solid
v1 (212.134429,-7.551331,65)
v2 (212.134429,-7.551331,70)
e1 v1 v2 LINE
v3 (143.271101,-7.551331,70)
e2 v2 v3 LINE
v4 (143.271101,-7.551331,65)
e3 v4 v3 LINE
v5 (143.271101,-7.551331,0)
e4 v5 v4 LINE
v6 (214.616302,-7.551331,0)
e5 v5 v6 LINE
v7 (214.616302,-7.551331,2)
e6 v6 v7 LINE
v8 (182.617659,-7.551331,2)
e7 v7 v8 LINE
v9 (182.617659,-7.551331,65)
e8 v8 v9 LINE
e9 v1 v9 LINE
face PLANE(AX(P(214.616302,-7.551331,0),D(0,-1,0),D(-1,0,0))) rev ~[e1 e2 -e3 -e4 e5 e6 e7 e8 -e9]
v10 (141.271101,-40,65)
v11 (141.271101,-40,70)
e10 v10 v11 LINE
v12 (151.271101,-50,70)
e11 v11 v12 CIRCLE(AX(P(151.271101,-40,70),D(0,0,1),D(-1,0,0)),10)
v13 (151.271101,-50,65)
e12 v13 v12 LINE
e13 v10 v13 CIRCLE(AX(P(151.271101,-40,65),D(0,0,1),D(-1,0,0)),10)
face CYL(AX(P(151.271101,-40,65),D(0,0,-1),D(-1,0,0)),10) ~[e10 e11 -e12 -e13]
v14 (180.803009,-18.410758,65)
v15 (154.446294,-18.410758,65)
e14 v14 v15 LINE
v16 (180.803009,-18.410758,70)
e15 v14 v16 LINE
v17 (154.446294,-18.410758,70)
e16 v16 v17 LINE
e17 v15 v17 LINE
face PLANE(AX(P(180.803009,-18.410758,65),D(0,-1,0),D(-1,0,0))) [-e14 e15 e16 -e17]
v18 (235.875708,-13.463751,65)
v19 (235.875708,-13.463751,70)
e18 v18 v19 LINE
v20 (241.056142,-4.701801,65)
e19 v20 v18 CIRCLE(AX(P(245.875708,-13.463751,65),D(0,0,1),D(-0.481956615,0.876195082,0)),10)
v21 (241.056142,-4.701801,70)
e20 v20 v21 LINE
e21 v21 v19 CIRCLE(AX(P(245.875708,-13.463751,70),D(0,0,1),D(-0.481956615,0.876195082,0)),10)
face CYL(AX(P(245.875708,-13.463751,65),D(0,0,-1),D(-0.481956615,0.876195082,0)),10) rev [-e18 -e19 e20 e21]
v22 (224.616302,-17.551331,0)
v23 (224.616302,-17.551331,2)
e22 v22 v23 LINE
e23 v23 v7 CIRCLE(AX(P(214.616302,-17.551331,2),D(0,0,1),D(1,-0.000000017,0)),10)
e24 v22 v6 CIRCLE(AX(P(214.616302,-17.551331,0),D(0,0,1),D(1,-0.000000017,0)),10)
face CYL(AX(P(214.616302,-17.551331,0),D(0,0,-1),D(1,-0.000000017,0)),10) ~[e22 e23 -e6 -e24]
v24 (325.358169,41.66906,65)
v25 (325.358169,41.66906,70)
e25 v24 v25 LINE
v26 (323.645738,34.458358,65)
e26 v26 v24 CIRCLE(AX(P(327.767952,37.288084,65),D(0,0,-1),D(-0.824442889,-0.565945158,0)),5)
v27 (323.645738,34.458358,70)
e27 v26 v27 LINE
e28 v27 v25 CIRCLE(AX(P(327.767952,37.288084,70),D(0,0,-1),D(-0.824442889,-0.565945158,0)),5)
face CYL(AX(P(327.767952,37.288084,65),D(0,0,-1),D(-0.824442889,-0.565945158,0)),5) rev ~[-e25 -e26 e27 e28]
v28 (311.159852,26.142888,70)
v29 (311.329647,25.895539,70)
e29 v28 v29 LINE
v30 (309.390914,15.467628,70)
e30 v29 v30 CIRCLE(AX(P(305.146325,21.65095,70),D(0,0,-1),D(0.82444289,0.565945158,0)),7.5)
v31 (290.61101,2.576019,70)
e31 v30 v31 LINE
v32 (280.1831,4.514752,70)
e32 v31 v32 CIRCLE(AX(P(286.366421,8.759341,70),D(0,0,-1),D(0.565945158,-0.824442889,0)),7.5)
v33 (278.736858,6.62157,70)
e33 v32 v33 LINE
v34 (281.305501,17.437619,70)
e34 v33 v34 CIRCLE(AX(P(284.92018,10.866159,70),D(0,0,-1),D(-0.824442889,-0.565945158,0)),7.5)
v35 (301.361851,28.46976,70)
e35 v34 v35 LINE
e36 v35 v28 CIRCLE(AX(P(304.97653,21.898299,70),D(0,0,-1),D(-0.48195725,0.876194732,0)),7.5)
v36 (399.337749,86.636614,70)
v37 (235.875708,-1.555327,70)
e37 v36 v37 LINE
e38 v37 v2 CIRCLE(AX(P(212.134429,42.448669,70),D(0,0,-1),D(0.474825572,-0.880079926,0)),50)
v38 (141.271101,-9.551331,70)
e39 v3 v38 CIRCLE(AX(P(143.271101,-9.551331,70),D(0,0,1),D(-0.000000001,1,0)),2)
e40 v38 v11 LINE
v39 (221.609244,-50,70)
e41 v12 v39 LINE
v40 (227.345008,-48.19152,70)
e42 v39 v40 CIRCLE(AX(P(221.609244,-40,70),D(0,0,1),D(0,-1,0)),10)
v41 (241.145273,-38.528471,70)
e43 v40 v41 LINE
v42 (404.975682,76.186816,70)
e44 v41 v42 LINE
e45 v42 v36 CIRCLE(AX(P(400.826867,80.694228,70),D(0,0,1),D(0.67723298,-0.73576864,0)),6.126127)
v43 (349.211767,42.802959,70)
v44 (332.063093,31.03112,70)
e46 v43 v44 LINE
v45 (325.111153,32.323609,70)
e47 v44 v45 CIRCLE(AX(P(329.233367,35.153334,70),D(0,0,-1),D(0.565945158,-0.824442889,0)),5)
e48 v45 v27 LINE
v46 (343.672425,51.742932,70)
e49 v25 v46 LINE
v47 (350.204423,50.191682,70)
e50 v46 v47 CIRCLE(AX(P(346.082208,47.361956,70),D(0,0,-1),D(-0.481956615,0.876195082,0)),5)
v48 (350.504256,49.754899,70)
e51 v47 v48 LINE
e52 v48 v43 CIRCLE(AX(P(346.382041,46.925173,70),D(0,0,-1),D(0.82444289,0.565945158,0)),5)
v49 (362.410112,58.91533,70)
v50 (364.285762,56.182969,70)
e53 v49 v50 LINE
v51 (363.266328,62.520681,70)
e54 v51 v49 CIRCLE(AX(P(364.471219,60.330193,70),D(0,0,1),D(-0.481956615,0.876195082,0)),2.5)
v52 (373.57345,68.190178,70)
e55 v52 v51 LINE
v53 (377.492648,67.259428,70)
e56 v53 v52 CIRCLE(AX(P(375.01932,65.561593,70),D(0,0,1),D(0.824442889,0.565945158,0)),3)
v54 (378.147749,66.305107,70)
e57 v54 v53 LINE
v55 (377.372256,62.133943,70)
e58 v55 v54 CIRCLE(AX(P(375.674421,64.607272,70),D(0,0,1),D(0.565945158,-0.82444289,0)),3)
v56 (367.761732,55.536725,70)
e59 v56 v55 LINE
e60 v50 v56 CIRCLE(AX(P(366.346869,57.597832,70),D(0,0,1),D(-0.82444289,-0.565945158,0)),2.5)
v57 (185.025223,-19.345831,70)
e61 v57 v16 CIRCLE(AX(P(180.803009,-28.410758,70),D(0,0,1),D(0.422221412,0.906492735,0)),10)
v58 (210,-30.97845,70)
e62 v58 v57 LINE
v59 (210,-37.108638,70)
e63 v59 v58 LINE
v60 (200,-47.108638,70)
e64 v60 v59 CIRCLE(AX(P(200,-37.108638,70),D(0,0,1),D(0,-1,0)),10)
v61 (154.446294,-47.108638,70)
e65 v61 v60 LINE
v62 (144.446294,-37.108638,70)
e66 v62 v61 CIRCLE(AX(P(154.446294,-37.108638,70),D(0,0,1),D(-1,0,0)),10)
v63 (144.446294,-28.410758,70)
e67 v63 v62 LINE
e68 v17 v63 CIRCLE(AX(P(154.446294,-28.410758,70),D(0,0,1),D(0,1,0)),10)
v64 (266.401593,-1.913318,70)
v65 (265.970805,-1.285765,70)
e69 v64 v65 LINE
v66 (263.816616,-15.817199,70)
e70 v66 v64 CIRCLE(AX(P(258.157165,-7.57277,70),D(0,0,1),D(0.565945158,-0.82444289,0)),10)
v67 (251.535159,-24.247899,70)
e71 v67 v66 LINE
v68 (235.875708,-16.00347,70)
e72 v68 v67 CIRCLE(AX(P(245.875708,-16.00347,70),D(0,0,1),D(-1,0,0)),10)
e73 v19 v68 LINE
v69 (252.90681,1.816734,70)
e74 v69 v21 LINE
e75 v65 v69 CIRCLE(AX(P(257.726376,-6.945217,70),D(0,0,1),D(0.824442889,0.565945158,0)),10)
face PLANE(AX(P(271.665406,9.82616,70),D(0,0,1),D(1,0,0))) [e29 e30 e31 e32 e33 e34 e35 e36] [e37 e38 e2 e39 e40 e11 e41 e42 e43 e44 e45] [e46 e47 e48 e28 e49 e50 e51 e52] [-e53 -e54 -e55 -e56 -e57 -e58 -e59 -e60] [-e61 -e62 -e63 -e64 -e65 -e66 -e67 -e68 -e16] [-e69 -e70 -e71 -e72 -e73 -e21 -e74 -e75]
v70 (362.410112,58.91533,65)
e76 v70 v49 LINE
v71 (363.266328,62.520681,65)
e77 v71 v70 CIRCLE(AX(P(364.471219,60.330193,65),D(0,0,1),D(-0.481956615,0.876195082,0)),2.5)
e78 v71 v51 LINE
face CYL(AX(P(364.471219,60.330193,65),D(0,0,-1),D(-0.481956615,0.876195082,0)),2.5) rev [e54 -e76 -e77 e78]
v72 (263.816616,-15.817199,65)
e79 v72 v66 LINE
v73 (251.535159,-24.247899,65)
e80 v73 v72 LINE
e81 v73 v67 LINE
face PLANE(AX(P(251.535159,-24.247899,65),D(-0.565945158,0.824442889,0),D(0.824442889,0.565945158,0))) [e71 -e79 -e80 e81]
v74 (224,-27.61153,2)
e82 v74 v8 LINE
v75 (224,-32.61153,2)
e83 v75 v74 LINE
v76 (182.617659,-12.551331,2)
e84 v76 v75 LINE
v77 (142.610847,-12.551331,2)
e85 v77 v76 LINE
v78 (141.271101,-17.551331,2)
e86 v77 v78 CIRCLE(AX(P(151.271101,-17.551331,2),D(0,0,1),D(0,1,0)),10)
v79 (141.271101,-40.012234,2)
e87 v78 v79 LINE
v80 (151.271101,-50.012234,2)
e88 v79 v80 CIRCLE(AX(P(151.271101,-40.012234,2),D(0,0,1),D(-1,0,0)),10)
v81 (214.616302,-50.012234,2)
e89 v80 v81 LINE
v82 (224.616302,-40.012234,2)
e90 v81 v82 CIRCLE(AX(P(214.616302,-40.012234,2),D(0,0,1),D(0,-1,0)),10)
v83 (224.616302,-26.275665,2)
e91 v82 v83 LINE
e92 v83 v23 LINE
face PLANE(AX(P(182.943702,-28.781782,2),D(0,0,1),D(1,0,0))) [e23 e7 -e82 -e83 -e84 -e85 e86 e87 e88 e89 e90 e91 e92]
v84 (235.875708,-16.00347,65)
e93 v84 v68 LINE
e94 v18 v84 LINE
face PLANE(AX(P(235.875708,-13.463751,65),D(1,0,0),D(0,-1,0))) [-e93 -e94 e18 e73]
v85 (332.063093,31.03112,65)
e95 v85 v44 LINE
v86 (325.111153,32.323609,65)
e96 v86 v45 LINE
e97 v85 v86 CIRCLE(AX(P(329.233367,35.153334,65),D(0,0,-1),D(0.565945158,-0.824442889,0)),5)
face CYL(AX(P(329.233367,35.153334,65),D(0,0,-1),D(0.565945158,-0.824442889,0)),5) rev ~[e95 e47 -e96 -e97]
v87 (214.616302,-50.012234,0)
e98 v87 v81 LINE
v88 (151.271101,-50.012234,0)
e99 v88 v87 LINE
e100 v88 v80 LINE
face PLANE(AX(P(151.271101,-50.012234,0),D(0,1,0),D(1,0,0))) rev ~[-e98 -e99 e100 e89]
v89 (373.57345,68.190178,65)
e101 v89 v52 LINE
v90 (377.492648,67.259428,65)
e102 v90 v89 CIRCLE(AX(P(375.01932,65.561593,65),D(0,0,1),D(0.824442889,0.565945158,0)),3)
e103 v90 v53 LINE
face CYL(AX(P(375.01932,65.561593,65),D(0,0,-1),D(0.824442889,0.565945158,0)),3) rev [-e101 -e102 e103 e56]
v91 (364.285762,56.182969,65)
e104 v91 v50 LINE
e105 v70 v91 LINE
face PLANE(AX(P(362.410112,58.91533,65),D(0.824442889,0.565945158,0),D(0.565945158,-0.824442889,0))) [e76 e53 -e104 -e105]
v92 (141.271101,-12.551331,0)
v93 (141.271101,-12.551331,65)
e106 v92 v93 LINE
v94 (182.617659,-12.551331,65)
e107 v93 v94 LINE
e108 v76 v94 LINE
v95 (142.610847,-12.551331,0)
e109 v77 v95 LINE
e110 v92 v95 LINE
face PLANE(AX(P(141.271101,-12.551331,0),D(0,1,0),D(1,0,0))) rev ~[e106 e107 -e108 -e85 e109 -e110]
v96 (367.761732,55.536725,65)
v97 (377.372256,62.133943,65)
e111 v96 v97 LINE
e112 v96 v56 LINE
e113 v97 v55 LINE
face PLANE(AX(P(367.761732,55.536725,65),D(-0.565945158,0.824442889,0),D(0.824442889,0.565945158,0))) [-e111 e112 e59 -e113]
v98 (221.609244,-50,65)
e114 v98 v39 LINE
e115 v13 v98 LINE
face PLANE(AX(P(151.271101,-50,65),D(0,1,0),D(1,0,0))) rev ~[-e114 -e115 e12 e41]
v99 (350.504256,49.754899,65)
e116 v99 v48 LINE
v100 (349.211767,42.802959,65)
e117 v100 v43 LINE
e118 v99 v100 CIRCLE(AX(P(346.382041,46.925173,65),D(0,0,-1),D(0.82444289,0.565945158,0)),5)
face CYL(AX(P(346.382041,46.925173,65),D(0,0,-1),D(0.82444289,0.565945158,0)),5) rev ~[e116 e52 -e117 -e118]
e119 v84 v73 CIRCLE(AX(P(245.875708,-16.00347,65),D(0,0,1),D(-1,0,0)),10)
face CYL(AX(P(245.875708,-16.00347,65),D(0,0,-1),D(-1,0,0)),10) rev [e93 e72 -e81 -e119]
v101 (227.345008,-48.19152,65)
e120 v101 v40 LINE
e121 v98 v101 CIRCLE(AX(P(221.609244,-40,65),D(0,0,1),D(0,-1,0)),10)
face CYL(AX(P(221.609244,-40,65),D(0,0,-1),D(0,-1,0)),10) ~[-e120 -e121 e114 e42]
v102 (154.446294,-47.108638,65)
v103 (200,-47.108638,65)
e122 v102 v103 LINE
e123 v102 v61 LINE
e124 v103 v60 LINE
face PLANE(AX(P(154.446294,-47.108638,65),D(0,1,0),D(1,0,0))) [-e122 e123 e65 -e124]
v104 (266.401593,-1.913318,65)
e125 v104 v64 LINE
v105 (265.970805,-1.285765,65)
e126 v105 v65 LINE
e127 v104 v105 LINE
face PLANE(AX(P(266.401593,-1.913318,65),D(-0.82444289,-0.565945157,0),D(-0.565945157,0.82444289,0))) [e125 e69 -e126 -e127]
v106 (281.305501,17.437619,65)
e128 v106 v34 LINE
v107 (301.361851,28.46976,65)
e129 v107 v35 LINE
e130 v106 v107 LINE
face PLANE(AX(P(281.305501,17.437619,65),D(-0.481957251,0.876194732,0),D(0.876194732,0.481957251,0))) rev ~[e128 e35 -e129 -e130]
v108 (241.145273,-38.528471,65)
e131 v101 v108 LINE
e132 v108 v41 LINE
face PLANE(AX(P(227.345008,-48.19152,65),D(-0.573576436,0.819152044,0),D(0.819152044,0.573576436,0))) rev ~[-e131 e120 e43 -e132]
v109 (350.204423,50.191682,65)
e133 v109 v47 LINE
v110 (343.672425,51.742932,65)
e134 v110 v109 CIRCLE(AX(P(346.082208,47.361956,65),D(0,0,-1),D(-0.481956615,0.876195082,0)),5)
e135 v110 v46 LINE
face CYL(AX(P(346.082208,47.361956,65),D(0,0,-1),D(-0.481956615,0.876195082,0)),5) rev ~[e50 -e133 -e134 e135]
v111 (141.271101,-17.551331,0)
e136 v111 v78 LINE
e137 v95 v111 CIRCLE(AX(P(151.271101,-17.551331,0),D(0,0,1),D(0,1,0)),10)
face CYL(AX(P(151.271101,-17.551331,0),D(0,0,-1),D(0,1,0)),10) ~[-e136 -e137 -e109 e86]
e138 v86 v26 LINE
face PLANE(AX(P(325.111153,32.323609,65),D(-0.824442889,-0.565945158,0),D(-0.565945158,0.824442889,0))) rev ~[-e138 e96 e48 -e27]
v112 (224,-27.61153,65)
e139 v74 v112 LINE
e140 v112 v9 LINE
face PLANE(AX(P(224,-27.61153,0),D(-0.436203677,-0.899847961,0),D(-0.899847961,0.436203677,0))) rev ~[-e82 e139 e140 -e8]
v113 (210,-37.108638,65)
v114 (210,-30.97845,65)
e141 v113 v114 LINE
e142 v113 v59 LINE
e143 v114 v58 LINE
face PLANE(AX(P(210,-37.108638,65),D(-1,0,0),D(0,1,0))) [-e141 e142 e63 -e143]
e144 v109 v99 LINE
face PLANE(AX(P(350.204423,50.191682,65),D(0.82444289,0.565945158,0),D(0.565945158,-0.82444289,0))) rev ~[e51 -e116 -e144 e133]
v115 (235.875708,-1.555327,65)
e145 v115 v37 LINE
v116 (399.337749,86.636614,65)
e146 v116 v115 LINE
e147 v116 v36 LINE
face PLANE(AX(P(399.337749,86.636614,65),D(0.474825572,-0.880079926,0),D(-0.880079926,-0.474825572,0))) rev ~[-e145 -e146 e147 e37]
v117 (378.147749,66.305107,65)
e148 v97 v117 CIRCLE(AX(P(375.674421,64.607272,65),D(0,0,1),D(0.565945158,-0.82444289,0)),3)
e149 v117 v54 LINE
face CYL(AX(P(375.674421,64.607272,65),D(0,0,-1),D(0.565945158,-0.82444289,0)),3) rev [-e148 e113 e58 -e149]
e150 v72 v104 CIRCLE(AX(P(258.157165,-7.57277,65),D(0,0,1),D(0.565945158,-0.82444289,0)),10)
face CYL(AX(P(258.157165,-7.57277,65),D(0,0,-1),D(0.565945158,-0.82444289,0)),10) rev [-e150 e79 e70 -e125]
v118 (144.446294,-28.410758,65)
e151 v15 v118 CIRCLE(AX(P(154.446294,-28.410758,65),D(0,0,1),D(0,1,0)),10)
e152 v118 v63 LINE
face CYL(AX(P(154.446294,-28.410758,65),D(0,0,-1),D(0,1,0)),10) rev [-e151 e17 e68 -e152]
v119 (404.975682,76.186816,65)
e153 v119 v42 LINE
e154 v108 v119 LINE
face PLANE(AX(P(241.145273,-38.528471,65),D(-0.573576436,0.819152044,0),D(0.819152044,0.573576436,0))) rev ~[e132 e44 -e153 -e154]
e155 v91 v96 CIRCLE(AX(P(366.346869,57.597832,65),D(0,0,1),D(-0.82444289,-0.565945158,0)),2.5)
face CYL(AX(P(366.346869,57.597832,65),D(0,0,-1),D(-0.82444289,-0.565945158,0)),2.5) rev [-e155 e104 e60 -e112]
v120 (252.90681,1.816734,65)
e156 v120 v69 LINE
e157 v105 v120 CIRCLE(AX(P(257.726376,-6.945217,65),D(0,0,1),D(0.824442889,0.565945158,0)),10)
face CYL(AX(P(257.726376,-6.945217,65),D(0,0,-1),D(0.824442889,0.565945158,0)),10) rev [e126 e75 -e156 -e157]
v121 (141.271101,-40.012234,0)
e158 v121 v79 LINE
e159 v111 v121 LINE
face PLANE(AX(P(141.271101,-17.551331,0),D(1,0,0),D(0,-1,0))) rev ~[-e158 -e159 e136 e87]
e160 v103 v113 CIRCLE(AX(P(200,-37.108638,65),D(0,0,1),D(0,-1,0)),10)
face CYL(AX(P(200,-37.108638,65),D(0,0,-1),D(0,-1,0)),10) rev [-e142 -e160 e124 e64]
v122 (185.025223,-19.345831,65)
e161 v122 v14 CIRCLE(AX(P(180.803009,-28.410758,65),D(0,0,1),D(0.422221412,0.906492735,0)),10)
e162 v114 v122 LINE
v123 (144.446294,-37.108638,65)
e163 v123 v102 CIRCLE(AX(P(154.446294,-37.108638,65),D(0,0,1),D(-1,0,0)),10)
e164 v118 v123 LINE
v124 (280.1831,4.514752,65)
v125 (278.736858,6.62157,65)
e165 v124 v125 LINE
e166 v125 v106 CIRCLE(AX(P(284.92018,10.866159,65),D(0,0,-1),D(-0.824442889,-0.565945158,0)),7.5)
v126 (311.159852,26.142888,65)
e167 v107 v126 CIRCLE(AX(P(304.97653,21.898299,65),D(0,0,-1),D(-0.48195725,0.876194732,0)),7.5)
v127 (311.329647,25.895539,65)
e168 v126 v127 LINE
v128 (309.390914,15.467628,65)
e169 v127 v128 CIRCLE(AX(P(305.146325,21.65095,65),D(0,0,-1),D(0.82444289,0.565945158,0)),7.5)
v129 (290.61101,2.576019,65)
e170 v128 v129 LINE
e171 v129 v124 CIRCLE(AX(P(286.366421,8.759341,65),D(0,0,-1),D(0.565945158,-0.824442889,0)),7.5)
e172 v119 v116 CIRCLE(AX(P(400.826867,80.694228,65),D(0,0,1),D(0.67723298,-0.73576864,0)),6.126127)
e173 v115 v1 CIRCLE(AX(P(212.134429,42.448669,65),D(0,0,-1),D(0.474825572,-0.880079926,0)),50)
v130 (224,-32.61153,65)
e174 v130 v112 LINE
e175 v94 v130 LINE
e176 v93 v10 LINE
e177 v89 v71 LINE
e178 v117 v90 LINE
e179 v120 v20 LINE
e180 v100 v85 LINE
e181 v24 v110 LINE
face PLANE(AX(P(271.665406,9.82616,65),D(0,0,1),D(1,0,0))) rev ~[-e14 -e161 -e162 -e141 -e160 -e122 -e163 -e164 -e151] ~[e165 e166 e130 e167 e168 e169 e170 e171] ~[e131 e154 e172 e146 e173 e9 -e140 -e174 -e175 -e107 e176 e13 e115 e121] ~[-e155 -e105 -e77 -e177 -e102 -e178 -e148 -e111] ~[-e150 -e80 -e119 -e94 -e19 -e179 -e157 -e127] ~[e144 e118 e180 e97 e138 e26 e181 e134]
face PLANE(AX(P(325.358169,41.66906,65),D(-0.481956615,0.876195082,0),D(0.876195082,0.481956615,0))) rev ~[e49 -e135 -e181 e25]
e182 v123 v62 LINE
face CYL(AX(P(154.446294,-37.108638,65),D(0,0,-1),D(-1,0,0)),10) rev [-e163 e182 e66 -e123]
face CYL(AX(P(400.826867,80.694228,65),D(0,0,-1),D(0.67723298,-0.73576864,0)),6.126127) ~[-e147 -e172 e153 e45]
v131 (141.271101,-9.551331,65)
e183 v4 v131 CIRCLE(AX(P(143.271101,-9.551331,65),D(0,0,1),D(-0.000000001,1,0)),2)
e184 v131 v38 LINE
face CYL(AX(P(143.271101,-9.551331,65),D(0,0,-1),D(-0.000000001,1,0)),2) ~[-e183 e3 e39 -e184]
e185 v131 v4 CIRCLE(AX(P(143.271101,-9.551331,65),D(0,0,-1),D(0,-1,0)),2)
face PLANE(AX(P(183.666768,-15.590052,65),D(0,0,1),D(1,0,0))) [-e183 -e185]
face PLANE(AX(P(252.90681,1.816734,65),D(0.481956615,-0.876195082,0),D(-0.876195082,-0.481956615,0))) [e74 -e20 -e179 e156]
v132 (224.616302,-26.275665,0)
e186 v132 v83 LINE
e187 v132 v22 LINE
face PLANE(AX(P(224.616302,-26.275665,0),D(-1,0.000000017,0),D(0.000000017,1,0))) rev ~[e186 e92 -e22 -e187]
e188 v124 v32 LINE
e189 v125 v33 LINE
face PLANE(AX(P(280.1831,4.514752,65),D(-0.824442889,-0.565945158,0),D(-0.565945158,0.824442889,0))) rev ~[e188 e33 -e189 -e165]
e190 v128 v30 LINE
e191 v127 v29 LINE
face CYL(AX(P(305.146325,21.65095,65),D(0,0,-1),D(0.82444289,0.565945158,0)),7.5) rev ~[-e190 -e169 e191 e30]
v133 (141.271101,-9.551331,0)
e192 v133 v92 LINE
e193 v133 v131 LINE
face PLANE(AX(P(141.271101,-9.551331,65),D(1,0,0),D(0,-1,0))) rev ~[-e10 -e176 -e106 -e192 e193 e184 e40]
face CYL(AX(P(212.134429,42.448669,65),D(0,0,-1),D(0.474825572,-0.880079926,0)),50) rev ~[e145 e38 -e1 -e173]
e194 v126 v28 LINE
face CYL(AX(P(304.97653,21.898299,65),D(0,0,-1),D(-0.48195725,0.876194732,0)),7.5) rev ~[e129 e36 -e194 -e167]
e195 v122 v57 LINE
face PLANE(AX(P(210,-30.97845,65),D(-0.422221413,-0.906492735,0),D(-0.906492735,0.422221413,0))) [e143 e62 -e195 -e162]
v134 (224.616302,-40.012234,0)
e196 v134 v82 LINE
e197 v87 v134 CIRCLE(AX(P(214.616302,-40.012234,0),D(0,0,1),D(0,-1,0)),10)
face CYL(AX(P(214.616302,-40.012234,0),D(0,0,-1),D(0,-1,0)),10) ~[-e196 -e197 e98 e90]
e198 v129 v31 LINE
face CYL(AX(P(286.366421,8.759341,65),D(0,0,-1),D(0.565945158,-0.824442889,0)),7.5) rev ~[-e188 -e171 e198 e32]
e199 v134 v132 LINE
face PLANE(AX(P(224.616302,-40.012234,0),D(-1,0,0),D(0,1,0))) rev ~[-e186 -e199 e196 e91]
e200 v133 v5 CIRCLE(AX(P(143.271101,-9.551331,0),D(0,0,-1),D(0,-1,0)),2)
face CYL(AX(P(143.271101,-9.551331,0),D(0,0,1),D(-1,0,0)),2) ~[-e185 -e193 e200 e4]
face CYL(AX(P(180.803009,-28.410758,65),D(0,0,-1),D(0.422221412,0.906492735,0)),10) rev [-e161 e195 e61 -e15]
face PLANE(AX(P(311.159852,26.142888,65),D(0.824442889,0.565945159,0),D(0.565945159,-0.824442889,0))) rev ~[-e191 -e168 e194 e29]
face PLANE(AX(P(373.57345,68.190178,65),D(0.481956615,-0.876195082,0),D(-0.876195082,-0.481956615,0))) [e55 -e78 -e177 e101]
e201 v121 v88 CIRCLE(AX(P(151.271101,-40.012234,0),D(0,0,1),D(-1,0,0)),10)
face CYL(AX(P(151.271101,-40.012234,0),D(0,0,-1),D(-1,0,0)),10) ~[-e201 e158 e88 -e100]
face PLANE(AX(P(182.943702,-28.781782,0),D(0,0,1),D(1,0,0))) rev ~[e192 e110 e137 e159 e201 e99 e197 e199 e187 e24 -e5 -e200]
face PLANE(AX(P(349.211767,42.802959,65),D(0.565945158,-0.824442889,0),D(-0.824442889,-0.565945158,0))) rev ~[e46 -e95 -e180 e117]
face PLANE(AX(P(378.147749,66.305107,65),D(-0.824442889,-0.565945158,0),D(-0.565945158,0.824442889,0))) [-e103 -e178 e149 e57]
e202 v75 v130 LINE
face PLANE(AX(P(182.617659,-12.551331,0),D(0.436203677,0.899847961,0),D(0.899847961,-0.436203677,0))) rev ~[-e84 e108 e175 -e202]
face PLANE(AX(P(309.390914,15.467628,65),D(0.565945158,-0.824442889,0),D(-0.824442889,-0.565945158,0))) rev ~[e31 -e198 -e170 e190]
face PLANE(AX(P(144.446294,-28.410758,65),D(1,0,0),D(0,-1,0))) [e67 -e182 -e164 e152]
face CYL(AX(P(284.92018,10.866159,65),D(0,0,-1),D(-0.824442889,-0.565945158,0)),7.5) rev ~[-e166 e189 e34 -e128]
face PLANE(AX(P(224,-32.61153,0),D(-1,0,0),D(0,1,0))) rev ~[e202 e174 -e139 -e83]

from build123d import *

# Parameters (mm, degrees)
BOSS_EXTRUDE1_DEPTH = 65
BOSS_EXTRUDE2_DEPTH = 5
FILLET1_R           = 2
BOSS_EXTRUDE3_DEPTH = 2


with BuildPart() as part:
    # Sketch1 → Boss-Extrude1 (new body)
    with BuildSketch(Plane.XY):
        Polygon((141.271101362, -12.551330892), (182.617659362, -12.551330892), (224, -32.611529859), (224, -27.611529859), (182.617659362, -7.551330892), (141.271101362, -7.551330892), align=None)
    extrude(amount=BOSS_EXTRUDE1_DEPTH)

    # Sketch2 → Boss-Extrude2 (add)
    with BuildSketch(Plane.XY.offset(65)):
        with BuildLine():
            Line((141.271101362, -17.551330892), (141.271101362, -40))
            ThreePointArc((141.271101362, -40), (144.20003355, -47.071067812), (151.271101362, -50))
            Line((151.271101362, -50), (221.609244051, -50))
            ThreePointArc((221.609244051, -50), (224.616302046, -49.537169507), (227.345008414, -48.191520443))
            Line((227.345008414, -48.191520443), (241.145272825, -38.528471273))
            Line((241.145272825, -38.528471273), (404.975681683, 76.186815997))
            ThreePointArc((404.975681683, 76.186815997), (406.218347763, 83.603069448), (399.337748937, 86.636614244))
            Line((399.337748937, 86.636614244), (235.875707721, -1.555327184))
            ThreePointArc((235.875707721, -1.555327184), (224.377798441, -6.02915992), (212.134429105, -7.551330892))
            Line((212.134429105, -7.551330892), (151.271101362, -7.551330892))
            Line((151.271101362, -7.551330892), (143.271101362, -7.551330892))
            ThreePointArc((143.271101362, -7.551330892), (141.8568878, -8.13711733), (141.271101362, -9.551330892))
            Line((141.271101362, -9.551330892), (141.271101362, -17.551330892))
        make_face()
        with BuildLine():
            Line((144.446293756, -28.410757918), (144.446293756, -37.108637926))
            ThreePointArc((144.446293756, -37.108637926), (147.375225944, -44.179705738), (154.446293756, -47.108637926))
            Line((154.446293756, -47.108637926), (200, -47.108637926))
            ThreePointArc((200, -47.108637926), (207.071067812, -44.179705738), (210, -37.108637926))
            Line((210, -37.108637926), (210, -30.978450453))
            Line((210, -30.978450453), (185.025223493, -19.345830567))
            ThreePointArc((185.025223493, -19.345830567), (182.965268196, -18.647324262), (180.803009367, -18.410757918))
            Line((180.803009367, -18.410757918), (154.446293756, -18.410757918))
            ThreePointArc((154.446293756, -18.410757918), (147.375225944, -21.339690106), (144.446293756, -28.410757918))
        make_face(mode=Mode.SUBTRACT)
        with BuildLine():
            Line((251.535159303, -24.247899123), (263.816616141, -15.81719868))
            ThreePointArc((263.816616141, -15.81719868), (267.988692729, -9.400624773), (266.401593453, -1.913318204))
            Line((266.401593453, -1.913318204), (265.970804926, -1.28576528))
            ThreePointArc((265.970804926, -1.28576528), (260.036959634, 2.784182062), (252.906809883, 1.816733956))
            Line((252.906809883, 1.816733956), (241.056141572, -4.701800674))
            ThreePointArc((241.056141572, -4.701800674), (237.267698036, -8.374334113), (235.875707721, -13.463751492))
            Line((235.875707721, -13.463751492), (235.875707721, -16.003470229))
            ThreePointArc((235.875707721, -16.003470229), (241.21708753, -24.852044007), (251.535159303, -24.247899123))
        make_face(mode=Mode.SUBTRACT)
        with BuildLine():
            Line((378.147749465, 66.305107432), (377.492648494, 67.259428411))
            ThreePointArc((377.492648494, 67.259428411), (375.712494906, 68.480412613), (373.573449981, 68.190178181))
            Line((373.573449981, 68.190178181), (363.266327618, 62.520680707))
            ThreePointArc((363.266327618, 62.520680707), (362.038869424, 60.907838903), (362.410111932, 58.915330107))
            Line((362.410111932, 58.915330107), (364.285761939, 56.182969403))
            ThreePointArc((364.285761939, 56.182969403), (365.889905415, 55.139950256), (367.761732058, 55.536725075))
            Line((367.761732058, 55.536725075), (377.372256271, 62.133943289))
            ThreePointArc((377.372256271, 62.133943289), (378.623879248, 64.058915461), (378.147749465, 66.305107432))
        make_face(mode=Mode.SUBTRACT)
        with BuildLine():
            Line((280.18309969, 4.514751946), (278.736858234, 6.621570014))
            ThreePointArc((278.736858234, 6.621570014), (277.623130083, 12.599093755), (281.305500525, 17.437619191))
            Line((281.305500525, 17.437619191), (301.361850744, 28.469759713))
            ThreePointArc((301.361850744, 28.469759713), (306.709465178, 29.195349043), (311.159851794, 26.142887908))
            Line((311.159851794, 26.142887908), (311.329646681, 25.895538523))
            ThreePointArc((311.329646681, 25.895538523), (312.519971137, 20.280058597), (309.390913697, 15.467628166))
            Line((309.390913697, 15.467628166), (290.611010047, 2.576018962))
            ThreePointArc((290.611010047, 2.576018962), (284.995530121, 1.385694505), (280.18309969, 4.514751946))
        make_face(mode=Mode.SUBTRACT)
        with BuildLine():
            Line((325.111152918, 32.323608673), (323.645737546, 34.45835842))
            ThreePointArc((323.645737546, 34.45835842), (322.903252531, 38.443376012), (325.358168918, 41.66905962))
            Line((325.358168918, 41.66905962), (343.672425355, 51.742931547))
            ThreePointArc((343.672425355, 51.742931547), (347.237500231, 52.2266556), (350.204422877, 50.191681929))
            Line((350.204422877, 50.191681929), (350.504255702, 49.754899253))
            ThreePointArc((350.504255702, 49.754899253), (351.297805339, 46.011245969), (349.211767046, 42.802959015))
            Line((349.211767046, 42.802959015), (332.063093156, 31.031120017))
            ThreePointArc((332.063093156, 31.031120017), (328.319439871, 30.237570379), (325.111152918, 32.323608673))
        make_face(mode=Mode.SUBTRACT)
    extrude(amount=BOSS_EXTRUDE2_DEPTH)

    # Fillet1
    fillet1_edges = [part.edges().sort_by_distance(p)[0] for p in [
        (141.271101362, -7.551330892, 32.5),
    ]]
    fillet(fillet1_edges, radius=FILLET1_R)

    # Sketch3 → Boss-Extrude3 (add)
    with BuildSketch(Plane(origin=(0, 0, 0), x_dir=(-1, 0, 0), z_dir=(0, 0, -1))):
        with BuildLine():
            Line((-141.271101362, -26.275665446), (-141.271101362, -40.012233887))
            ThreePointArc((-141.271101362, -40.012233887), (-144.20003355, -47.083301699), (-151.271101362, -50.012233887))
            Line((-151.271101362, -50.012233887), (-214.616302046, -50.012233887))
            ThreePointArc((-214.616302046, -50.012233887), (-221.687369858, -47.083301699), (-224.616302046, -40.012233887))
            Line((-224.616302046, -40.012233887), (-224.616302046, -26.275665446))
            Line((-224.616302046, -26.275665446), (-224.616302193, -17.551331061))
            ThreePointArc((-224.616302193, -17.551331061), (-221.687370065, -10.48026314), (-214.616302193, -7.551330892))
            Line((-214.616302193, -7.551330892), (-151.271101362, -7.551330892))
            ThreePointArc((-151.271101362, -7.551330892), (-144.20003355, -10.48026308), (-141.271101362, -17.551330892))
            Line((-141.271101362, -17.551330892), (-141.271101362, -26.275665446))
        make_face()
    extrude(amount=-BOSS_EXTRUDE3_DEPTH)


solid = part.part
